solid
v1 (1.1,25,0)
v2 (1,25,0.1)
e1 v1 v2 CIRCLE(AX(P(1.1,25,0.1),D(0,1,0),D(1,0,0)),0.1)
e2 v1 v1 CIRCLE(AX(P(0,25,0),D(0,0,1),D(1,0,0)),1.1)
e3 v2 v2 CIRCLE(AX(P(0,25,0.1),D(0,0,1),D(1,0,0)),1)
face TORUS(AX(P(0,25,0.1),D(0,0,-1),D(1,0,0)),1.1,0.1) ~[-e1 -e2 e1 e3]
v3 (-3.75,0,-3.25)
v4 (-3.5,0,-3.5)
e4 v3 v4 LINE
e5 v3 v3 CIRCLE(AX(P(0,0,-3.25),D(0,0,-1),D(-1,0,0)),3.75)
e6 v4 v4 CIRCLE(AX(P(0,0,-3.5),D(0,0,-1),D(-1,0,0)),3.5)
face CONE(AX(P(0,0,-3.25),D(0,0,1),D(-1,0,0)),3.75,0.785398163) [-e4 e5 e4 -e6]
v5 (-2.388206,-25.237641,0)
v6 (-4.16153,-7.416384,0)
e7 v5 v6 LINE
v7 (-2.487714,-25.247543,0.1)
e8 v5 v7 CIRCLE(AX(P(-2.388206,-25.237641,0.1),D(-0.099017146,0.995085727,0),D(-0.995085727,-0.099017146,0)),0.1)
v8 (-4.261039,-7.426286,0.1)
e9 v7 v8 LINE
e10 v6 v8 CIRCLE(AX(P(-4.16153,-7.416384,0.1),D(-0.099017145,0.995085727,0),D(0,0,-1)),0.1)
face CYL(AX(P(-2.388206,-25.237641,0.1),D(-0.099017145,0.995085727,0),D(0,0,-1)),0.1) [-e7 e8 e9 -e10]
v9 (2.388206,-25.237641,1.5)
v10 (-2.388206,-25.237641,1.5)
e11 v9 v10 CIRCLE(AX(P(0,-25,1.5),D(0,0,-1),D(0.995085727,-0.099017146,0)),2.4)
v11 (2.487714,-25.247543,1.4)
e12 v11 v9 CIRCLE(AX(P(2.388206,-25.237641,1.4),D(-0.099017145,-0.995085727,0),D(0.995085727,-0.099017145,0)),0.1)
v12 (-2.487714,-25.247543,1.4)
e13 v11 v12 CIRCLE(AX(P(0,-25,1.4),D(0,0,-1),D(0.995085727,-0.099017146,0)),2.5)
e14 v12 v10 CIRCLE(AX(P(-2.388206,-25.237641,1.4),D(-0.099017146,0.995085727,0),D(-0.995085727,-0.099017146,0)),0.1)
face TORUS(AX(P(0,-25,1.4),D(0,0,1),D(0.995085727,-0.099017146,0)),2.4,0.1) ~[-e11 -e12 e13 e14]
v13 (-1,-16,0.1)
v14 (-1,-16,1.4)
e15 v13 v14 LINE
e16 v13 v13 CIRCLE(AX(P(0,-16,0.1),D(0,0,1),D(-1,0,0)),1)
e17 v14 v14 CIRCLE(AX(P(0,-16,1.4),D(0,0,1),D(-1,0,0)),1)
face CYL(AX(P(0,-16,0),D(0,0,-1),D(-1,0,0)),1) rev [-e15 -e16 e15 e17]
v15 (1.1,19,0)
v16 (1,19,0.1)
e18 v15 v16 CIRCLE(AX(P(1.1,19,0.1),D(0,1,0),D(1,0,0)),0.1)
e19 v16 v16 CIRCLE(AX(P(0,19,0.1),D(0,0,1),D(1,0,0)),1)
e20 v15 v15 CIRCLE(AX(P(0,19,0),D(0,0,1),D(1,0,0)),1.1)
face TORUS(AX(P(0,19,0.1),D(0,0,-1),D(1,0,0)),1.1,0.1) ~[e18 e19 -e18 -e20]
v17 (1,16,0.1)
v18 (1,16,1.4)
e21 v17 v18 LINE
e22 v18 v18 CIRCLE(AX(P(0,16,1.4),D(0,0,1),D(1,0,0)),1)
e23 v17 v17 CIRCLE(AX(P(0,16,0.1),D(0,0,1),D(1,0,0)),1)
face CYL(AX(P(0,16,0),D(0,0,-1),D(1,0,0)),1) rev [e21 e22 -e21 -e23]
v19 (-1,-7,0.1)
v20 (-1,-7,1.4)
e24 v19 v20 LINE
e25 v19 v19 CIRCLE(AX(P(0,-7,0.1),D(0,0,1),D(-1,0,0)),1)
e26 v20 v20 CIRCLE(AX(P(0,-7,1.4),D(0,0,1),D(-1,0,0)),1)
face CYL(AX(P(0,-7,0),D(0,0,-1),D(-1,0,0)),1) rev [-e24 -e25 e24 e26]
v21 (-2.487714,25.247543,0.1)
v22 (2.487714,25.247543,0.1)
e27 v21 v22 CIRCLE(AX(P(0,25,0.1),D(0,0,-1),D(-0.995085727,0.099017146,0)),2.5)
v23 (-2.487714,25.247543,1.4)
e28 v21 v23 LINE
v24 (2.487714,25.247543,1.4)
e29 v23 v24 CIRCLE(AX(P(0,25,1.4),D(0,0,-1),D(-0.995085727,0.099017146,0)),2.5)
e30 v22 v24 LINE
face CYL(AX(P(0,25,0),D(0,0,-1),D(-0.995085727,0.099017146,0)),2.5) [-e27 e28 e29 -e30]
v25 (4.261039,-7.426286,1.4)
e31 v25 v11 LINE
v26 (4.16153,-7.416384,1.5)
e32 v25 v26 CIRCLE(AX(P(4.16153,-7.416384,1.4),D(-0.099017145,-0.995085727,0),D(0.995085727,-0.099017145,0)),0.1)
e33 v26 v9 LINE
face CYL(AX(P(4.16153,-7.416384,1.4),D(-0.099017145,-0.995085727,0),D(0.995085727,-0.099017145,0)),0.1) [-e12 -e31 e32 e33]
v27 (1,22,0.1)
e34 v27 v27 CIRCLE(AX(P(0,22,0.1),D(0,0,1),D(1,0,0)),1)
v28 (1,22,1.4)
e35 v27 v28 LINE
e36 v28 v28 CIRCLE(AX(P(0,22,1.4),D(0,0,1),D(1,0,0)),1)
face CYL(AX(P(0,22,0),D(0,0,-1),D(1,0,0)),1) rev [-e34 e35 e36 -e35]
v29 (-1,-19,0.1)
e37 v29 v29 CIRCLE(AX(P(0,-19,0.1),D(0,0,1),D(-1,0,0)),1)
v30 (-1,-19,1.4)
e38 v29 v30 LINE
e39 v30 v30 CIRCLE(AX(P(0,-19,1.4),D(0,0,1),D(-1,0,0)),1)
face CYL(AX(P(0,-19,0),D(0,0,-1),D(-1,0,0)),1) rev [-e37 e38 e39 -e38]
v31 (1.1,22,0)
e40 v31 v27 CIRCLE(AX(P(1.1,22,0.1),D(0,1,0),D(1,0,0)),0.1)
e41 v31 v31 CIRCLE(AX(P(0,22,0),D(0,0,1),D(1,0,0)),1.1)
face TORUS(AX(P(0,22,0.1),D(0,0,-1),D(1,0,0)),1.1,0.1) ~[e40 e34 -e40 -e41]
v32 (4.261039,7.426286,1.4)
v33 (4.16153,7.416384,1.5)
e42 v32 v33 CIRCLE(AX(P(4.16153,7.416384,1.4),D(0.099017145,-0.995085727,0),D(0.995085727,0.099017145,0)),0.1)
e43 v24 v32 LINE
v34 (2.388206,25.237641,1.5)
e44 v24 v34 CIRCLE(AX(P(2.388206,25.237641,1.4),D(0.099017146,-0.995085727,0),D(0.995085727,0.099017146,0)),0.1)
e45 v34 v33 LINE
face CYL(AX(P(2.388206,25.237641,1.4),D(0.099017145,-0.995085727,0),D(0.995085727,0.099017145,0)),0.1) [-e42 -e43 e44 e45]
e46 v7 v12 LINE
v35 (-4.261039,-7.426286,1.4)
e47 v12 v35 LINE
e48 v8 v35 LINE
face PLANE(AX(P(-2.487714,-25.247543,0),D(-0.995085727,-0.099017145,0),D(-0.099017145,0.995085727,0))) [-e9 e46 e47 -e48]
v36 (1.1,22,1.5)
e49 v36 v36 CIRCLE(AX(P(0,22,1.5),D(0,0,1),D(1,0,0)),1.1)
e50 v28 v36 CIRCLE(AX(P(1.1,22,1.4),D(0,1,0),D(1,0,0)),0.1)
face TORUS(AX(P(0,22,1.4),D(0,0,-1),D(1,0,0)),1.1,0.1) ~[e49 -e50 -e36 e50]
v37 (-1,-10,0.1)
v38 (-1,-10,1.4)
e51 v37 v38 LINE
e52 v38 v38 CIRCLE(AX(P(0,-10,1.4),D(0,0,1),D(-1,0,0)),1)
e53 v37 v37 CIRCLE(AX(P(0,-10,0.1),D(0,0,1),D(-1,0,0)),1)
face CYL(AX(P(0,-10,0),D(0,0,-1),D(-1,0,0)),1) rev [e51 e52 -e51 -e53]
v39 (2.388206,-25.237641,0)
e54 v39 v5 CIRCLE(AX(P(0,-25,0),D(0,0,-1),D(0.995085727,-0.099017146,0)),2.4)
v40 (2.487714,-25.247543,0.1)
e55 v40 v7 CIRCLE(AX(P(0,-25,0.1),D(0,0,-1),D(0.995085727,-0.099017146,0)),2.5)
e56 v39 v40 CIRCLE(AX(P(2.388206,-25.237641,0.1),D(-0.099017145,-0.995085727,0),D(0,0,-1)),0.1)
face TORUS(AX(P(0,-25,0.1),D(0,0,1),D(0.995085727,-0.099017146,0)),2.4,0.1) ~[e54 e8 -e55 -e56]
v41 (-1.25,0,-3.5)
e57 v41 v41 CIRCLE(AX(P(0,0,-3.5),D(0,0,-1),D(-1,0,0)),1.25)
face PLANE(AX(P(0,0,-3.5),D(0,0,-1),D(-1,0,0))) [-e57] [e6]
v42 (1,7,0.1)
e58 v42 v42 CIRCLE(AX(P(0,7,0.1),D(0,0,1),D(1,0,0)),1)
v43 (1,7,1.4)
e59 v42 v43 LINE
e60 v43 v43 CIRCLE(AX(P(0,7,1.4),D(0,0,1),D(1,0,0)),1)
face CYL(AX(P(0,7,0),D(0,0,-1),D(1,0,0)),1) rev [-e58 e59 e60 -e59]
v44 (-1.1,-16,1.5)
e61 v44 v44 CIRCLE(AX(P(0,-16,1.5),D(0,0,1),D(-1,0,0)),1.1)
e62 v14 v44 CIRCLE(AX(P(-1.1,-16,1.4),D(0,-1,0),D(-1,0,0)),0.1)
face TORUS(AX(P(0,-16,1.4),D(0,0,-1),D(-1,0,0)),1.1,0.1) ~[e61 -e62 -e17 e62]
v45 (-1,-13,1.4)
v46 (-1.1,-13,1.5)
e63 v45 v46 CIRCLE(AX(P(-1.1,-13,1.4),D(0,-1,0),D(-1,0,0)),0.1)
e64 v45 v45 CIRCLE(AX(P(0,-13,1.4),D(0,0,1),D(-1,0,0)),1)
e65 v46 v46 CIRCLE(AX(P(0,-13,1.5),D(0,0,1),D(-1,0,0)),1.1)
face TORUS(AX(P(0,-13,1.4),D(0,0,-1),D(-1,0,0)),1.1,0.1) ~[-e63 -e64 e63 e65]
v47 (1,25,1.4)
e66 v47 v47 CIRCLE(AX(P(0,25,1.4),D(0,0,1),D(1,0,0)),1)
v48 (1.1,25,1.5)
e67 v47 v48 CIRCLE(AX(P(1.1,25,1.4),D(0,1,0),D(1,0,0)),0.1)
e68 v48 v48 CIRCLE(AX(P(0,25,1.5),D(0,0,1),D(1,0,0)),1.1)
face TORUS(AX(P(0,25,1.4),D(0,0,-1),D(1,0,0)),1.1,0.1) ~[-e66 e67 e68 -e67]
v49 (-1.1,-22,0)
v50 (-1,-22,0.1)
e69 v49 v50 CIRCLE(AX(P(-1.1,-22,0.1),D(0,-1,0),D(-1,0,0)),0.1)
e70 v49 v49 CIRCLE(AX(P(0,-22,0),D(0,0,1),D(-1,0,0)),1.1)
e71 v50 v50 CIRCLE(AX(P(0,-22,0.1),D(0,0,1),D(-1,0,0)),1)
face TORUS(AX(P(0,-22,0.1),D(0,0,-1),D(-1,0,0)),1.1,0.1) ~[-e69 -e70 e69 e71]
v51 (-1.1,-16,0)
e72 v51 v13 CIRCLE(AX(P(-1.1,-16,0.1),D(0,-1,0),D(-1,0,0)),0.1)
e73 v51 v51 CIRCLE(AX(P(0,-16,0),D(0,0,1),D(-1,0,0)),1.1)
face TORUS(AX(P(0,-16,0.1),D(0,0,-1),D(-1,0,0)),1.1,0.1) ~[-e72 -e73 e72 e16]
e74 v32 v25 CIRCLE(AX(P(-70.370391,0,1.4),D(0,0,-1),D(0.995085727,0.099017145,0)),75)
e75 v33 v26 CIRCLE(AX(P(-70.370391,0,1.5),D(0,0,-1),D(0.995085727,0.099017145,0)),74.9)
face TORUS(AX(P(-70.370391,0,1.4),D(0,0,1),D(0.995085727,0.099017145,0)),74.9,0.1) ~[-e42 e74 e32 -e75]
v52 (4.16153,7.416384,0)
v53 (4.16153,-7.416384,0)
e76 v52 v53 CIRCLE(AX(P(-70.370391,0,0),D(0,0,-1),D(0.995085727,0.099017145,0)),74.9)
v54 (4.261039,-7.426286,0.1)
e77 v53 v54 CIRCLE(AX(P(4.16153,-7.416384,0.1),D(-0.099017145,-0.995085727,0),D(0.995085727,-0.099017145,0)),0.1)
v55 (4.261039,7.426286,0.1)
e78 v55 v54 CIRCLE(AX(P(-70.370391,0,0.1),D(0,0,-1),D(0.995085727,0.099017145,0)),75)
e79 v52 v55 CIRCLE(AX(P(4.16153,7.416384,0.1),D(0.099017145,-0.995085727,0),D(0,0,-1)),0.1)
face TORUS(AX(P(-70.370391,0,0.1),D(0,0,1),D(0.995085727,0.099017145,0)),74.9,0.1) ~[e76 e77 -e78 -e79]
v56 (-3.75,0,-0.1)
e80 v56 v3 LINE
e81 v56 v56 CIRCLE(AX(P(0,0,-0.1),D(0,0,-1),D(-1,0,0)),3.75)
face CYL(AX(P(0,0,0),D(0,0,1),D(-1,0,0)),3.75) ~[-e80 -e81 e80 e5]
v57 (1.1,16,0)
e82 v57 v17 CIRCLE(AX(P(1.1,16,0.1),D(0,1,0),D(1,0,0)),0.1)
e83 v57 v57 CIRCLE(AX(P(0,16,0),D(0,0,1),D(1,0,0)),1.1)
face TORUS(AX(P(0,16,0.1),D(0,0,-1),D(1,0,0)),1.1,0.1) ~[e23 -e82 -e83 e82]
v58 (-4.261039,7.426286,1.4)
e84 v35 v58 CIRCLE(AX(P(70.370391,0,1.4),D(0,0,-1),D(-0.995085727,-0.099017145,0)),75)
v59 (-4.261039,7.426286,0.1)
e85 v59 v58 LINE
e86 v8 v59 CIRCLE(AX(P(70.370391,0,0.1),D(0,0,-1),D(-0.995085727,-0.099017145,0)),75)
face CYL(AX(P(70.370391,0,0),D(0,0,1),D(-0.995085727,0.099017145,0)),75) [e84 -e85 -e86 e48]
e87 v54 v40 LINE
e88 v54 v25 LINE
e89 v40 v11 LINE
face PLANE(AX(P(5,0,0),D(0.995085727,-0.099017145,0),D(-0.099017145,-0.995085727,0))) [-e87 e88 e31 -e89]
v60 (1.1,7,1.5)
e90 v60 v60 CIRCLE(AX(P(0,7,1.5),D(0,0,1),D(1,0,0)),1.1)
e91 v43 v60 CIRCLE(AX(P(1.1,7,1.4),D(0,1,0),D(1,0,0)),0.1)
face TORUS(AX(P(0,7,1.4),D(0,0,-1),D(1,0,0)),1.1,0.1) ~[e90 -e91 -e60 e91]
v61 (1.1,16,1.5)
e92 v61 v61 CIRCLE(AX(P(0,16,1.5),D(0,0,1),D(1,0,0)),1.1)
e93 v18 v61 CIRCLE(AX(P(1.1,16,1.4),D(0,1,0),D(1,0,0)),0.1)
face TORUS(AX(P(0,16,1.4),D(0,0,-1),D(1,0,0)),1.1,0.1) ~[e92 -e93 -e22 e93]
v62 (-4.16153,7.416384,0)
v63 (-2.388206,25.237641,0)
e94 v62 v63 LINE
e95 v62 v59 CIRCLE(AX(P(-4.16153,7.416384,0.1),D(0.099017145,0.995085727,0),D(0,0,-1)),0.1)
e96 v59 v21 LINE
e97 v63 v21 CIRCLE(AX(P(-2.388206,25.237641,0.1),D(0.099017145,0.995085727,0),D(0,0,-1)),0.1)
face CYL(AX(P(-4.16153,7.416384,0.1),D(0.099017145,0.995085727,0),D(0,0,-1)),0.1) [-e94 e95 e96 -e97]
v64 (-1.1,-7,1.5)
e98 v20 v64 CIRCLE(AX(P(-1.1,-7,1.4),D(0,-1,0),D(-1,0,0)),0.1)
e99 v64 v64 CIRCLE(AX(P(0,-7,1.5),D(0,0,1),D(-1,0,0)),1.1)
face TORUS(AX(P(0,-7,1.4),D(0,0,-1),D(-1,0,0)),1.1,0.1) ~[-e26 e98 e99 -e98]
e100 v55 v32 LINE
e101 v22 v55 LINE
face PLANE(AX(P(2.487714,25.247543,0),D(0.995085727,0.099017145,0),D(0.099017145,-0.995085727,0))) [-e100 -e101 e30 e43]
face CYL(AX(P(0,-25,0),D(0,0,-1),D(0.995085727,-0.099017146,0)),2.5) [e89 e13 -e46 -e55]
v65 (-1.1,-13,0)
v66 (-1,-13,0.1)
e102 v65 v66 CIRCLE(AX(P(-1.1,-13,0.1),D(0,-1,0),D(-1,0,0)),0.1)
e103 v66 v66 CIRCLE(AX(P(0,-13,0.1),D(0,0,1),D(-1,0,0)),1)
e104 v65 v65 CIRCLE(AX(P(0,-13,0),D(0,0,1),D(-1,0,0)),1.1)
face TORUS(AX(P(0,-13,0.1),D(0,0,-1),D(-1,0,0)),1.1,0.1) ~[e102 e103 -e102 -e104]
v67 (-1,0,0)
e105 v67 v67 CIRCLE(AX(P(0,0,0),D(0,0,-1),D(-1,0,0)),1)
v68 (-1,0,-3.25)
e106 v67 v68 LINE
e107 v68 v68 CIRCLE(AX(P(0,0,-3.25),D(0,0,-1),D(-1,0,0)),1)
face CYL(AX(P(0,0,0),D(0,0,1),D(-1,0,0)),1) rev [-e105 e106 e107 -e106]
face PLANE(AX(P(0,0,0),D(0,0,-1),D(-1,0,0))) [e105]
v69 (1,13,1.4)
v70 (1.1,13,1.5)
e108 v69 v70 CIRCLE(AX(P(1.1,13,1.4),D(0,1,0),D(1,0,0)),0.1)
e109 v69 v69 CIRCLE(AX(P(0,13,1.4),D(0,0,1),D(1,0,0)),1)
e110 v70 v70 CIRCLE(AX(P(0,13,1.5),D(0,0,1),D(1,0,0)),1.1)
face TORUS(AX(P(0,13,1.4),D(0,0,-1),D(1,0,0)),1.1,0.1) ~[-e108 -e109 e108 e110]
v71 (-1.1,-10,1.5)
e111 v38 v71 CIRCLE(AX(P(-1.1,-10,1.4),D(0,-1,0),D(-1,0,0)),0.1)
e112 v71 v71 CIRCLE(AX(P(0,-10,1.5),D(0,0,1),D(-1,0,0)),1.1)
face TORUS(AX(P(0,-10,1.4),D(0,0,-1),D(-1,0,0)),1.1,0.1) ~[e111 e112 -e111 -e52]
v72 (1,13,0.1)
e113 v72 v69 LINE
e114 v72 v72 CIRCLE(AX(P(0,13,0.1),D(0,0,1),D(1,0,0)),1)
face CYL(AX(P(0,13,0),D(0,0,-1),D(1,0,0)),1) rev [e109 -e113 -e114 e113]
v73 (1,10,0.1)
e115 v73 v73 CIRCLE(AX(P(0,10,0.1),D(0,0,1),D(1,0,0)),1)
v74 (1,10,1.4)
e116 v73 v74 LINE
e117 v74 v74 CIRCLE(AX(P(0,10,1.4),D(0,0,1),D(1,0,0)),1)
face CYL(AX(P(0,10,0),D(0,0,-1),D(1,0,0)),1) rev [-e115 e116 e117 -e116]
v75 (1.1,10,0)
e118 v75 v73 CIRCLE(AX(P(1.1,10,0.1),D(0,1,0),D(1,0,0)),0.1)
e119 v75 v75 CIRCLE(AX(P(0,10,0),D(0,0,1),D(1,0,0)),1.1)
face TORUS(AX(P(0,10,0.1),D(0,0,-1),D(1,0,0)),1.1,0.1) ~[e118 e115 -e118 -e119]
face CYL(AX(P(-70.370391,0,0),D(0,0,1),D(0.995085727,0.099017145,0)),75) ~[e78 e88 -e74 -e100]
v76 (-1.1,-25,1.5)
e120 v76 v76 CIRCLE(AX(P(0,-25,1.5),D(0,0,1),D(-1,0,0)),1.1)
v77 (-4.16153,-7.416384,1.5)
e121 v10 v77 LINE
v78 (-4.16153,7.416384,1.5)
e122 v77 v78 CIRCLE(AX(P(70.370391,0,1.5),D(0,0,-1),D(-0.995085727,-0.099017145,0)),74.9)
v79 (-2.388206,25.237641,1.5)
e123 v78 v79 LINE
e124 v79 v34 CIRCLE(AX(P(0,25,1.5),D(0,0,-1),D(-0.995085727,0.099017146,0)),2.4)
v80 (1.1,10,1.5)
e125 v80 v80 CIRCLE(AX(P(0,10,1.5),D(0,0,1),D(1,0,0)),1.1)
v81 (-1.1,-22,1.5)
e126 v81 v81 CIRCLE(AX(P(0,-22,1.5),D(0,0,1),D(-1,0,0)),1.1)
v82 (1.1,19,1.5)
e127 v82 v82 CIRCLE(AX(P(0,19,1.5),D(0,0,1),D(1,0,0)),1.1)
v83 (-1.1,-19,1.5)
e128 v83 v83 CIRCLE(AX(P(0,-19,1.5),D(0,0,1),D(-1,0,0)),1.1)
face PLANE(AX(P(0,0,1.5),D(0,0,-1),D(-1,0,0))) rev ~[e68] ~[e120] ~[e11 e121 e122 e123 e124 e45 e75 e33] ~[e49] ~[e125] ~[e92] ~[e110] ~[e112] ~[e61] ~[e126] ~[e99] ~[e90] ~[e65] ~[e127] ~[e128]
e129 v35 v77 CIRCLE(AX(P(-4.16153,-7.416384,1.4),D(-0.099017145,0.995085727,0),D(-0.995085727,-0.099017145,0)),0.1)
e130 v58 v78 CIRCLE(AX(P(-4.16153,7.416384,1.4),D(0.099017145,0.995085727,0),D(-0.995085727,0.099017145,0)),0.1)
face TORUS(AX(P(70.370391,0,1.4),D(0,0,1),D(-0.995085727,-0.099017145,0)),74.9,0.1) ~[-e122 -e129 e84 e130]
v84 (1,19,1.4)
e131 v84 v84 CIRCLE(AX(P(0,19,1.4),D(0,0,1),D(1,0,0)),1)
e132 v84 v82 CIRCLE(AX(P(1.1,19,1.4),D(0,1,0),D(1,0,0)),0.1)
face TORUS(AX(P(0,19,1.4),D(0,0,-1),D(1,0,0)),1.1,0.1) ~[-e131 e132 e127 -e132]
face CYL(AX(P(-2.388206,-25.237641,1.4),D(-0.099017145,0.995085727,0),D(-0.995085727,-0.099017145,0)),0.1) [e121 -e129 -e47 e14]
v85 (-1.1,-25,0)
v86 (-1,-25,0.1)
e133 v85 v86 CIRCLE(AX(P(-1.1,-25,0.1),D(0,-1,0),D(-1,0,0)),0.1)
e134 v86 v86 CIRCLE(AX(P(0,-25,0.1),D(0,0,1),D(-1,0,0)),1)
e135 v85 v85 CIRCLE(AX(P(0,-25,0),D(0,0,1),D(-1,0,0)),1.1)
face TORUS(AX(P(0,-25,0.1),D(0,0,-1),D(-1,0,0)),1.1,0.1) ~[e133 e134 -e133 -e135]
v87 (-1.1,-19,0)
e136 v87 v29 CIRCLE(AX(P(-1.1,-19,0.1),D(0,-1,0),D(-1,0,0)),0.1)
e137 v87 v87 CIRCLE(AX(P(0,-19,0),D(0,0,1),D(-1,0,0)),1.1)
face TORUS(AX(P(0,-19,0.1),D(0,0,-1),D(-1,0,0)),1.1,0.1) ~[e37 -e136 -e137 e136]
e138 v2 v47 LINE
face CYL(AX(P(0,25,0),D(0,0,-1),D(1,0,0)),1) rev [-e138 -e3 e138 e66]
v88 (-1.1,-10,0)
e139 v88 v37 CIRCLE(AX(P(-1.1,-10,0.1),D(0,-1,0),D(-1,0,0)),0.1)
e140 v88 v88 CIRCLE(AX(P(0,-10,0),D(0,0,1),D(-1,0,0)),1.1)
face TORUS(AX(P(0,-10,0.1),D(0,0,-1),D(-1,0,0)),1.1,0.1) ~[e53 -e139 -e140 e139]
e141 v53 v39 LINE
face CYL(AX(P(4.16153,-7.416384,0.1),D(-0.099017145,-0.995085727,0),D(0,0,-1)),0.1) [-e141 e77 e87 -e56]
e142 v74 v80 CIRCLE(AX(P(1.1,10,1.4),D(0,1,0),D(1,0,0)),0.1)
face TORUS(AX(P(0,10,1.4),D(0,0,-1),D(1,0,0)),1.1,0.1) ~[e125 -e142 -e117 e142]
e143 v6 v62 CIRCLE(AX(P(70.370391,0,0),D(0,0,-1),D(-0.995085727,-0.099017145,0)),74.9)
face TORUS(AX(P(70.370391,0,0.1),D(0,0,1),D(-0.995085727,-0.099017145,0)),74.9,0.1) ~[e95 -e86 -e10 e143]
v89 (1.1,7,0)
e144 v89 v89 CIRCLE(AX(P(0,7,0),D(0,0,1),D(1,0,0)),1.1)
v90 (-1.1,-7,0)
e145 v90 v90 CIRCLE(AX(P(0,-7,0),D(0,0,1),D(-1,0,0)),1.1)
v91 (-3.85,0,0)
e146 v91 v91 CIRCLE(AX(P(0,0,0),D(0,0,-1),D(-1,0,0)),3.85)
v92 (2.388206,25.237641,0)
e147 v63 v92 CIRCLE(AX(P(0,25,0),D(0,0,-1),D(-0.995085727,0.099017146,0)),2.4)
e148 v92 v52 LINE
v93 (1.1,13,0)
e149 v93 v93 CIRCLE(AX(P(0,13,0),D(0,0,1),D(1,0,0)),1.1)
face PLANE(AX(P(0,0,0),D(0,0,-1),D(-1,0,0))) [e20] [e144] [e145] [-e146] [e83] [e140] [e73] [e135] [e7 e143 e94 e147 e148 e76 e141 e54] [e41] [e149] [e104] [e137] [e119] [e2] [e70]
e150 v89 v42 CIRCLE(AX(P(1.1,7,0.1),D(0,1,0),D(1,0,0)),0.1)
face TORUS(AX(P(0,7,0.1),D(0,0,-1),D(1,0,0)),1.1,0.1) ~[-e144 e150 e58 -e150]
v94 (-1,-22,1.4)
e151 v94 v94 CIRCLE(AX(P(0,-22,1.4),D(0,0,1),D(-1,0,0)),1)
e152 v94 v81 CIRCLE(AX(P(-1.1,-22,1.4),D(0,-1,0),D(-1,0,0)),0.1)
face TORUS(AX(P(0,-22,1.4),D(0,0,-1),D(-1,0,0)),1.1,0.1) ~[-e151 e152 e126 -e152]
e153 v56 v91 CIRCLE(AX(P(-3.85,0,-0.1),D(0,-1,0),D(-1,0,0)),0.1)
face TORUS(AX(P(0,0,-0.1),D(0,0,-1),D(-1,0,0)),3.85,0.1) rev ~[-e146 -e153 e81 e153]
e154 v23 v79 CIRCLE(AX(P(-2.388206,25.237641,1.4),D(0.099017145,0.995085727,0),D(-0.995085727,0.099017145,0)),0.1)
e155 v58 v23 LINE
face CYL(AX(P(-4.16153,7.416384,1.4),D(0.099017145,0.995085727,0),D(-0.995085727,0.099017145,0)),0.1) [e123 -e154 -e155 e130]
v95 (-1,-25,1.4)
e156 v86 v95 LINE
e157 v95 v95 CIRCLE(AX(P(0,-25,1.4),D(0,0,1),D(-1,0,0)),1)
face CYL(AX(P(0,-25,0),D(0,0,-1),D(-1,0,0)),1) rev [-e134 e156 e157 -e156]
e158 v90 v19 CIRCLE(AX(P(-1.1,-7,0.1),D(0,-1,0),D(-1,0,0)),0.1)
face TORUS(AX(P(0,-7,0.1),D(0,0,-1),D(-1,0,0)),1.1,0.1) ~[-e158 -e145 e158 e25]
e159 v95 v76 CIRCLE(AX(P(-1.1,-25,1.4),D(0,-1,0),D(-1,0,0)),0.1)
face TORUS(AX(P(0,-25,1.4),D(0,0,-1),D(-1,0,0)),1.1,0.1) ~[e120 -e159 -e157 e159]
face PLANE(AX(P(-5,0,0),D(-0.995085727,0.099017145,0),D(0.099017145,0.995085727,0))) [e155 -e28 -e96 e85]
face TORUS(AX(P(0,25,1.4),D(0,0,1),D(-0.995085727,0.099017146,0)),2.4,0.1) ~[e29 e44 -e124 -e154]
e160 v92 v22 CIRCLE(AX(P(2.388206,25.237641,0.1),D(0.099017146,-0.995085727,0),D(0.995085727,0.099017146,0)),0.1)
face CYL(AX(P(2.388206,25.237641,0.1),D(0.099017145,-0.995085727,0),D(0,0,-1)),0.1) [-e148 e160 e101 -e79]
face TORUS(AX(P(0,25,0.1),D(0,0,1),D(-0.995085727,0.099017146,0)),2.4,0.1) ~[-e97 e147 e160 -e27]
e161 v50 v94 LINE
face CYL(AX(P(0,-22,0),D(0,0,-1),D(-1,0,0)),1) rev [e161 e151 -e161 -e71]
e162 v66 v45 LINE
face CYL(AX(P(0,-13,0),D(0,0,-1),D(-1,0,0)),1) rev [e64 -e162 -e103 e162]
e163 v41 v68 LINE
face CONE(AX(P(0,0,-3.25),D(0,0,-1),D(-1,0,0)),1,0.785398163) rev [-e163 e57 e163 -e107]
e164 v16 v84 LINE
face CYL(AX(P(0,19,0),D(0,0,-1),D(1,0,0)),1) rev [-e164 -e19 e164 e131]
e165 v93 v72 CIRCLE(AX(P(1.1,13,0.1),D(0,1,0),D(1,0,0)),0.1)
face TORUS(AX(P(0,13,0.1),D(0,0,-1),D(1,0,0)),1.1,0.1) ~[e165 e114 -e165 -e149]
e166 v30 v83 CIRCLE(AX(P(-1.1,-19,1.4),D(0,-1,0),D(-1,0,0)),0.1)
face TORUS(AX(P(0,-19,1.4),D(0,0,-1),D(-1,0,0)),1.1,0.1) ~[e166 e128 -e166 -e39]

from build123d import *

# Parameters (mm, degrees)
SKETCH1_R           = 1
BOSS_EXTRUDE1_DEPTH = 1.5
FILLET1_R           = 75
SKETCH2_R           = 3.75
SKETCH2_R_2         = 1
EXTRUDE_THIN1_DEPTH = 3.5
CHAMFER1_SIZE       = 0.25
FILLET2_R           = 0.1


with BuildPart() as part:
    # Sketch1 → Boss-Extrude1 (new body)
    with BuildSketch(Plane.XY):
        with BuildLine():
            Line((-5, 0), (-2.487714319, 25.247542864))
            ThreePointArc((-2.487714319, 25.247542864), (0, 27.5), (2.487714319, 25.247542864))
            Line((2.487714319, 25.247542864), (5, 0))
            Line((5, 0), (2.487714319, -25.247542864))
            ThreePointArc((2.487714319, -25.247542864), (0, -27.5), (-2.487714319, -25.247542864))
            Line((-2.487714319, -25.247542864), (-5, 0))
        make_face()
        with Locations((0, 25)):
            Circle(SKETCH1_R, mode=Mode.SUBTRACT)
        with Locations((0, 22)):
            Circle(SKETCH1_R, mode=Mode.SUBTRACT)
        with Locations((0, 19)):
            Circle(SKETCH1_R, mode=Mode.SUBTRACT)
        with Locations((0, 16)):
            Circle(SKETCH1_R, mode=Mode.SUBTRACT)
        with Locations((0, 13)):
            Circle(SKETCH1_R, mode=Mode.SUBTRACT)
        with Locations((0, 10)):
            Circle(SKETCH1_R, mode=Mode.SUBTRACT)
        with Locations((0, 7)):
            Circle(SKETCH1_R, mode=Mode.SUBTRACT)
        with Locations(Location((0, -7, 0), (0, 0, 180))):
            Circle(SKETCH1_R, mode=Mode.SUBTRACT)
        with Locations(Location((0, -10, 0), (0, 0, 180))):
            Circle(SKETCH1_R, mode=Mode.SUBTRACT)
        with Locations(Location((0, -13, 0), (0, 0, 180))):
            Circle(SKETCH1_R, mode=Mode.SUBTRACT)
        with Locations(Location((0, -16, 0), (0, 0, 180))):
            Circle(SKETCH1_R, mode=Mode.SUBTRACT)
        with Locations(Location((0, -19, 0), (0, 0, 180))):
            Circle(SKETCH1_R, mode=Mode.SUBTRACT)
        with Locations(Location((0, -22, 0), (0, 0, 180))):
            Circle(SKETCH1_R, mode=Mode.SUBTRACT)
        with Locations(Location((0, -25, 0), (0, 0, 180))):
            Circle(SKETCH1_R, mode=Mode.SUBTRACT)
    extrude(amount=BOSS_EXTRUDE1_DEPTH)

    # Fillet1
    fillet1_edges = [part.edges().sort_by_distance(p)[0] for p in [
        (-5, 0, 0.75),
        (5, 0, 0.75),
    ]]
    fillet(fillet1_edges, radius=FILLET1_R)

    # Sketch2 → Extrude-Thin1 (add)
    with BuildSketch(Plane(origin=(0, 0, 0), x_dir=(-1, 0, 0), z_dir=(0, 0, -1))):
        Circle(SKETCH2_R)
        Circle(SKETCH2_R_2, mode=Mode.SUBTRACT)
    extrude(amount=EXTRUDE_THIN1_DEPTH)

    # Chamfer1
    chamfer1_edges = [part.edges().sort_by_distance(p)[0] for p in [
        (3.75, 0, -3.5),
        (1, 0, -3.5),
    ]]
    chamfer(chamfer1_edges, length=CHAMFER1_SIZE)

    # Fillet2
    fillet2_edges = [part.edges().sort_by_distance(p)[0] for p in [
        (3.374376615, -16.336914387, 1.5),
        (-1, 25, 0),
        (-1, 25, 1.5),
        (-1, 22, 0),
        (0, 27.5, 1.5),
        (-1, 22, 1.5),
        (-1, 19, 0),
        (-3.374376615, 16.336914387, 1.5),
        (-1, 19, 1.5),
        (-1, 16, 0),
        (-1, 16, 1.5),
        (-1, 13, 0),
        (-1, 13, 1.5),
        (-1, 10, 0),
        (-1, 10, 1.5),
        (-1, 7, 0),
        (-1, 7, 1.5),
        (1, -7, 0),
        (1, -7, 1.5),
        (1, -10, 0),
        (1, -10, 1.5),
        (1, -13, 0),
        (1, -13, 1.5),
        (1, -16, 0),
        (1, -16, 1.5),
        (1, -19, 0),
        (1, -19, 1.5),
        (1, -22, 0),
        (1, -22, 1.5),
        (1, -25, 0),
        (1, -25, 1.5),
        (-3.374376615, 16.336914387, 0),
        (0, 27.5, 0),
        (-3.374376615, -16.336914387, 0),
        (-3.374376615, -16.336914387, 1.5),
        (3.374376615, 16.336914387, 0),
        (4.629609355, 0, 0),
        (-4.629609355, 0, 0),
        (3.374376615, -16.336914387, 0),
        (3.374376615, 16.336914387, 1.5),
        (4.629609355, 0, 1.5),
        (-4.629609355, 0, 1.5),
        (0, -27.5, 0),
        (0, -27.5, 1.5),
        (3.75, 0, 0),
    ]]
    fillet(fillet2_edges, radius=FILLET2_R)


solid = part.part
